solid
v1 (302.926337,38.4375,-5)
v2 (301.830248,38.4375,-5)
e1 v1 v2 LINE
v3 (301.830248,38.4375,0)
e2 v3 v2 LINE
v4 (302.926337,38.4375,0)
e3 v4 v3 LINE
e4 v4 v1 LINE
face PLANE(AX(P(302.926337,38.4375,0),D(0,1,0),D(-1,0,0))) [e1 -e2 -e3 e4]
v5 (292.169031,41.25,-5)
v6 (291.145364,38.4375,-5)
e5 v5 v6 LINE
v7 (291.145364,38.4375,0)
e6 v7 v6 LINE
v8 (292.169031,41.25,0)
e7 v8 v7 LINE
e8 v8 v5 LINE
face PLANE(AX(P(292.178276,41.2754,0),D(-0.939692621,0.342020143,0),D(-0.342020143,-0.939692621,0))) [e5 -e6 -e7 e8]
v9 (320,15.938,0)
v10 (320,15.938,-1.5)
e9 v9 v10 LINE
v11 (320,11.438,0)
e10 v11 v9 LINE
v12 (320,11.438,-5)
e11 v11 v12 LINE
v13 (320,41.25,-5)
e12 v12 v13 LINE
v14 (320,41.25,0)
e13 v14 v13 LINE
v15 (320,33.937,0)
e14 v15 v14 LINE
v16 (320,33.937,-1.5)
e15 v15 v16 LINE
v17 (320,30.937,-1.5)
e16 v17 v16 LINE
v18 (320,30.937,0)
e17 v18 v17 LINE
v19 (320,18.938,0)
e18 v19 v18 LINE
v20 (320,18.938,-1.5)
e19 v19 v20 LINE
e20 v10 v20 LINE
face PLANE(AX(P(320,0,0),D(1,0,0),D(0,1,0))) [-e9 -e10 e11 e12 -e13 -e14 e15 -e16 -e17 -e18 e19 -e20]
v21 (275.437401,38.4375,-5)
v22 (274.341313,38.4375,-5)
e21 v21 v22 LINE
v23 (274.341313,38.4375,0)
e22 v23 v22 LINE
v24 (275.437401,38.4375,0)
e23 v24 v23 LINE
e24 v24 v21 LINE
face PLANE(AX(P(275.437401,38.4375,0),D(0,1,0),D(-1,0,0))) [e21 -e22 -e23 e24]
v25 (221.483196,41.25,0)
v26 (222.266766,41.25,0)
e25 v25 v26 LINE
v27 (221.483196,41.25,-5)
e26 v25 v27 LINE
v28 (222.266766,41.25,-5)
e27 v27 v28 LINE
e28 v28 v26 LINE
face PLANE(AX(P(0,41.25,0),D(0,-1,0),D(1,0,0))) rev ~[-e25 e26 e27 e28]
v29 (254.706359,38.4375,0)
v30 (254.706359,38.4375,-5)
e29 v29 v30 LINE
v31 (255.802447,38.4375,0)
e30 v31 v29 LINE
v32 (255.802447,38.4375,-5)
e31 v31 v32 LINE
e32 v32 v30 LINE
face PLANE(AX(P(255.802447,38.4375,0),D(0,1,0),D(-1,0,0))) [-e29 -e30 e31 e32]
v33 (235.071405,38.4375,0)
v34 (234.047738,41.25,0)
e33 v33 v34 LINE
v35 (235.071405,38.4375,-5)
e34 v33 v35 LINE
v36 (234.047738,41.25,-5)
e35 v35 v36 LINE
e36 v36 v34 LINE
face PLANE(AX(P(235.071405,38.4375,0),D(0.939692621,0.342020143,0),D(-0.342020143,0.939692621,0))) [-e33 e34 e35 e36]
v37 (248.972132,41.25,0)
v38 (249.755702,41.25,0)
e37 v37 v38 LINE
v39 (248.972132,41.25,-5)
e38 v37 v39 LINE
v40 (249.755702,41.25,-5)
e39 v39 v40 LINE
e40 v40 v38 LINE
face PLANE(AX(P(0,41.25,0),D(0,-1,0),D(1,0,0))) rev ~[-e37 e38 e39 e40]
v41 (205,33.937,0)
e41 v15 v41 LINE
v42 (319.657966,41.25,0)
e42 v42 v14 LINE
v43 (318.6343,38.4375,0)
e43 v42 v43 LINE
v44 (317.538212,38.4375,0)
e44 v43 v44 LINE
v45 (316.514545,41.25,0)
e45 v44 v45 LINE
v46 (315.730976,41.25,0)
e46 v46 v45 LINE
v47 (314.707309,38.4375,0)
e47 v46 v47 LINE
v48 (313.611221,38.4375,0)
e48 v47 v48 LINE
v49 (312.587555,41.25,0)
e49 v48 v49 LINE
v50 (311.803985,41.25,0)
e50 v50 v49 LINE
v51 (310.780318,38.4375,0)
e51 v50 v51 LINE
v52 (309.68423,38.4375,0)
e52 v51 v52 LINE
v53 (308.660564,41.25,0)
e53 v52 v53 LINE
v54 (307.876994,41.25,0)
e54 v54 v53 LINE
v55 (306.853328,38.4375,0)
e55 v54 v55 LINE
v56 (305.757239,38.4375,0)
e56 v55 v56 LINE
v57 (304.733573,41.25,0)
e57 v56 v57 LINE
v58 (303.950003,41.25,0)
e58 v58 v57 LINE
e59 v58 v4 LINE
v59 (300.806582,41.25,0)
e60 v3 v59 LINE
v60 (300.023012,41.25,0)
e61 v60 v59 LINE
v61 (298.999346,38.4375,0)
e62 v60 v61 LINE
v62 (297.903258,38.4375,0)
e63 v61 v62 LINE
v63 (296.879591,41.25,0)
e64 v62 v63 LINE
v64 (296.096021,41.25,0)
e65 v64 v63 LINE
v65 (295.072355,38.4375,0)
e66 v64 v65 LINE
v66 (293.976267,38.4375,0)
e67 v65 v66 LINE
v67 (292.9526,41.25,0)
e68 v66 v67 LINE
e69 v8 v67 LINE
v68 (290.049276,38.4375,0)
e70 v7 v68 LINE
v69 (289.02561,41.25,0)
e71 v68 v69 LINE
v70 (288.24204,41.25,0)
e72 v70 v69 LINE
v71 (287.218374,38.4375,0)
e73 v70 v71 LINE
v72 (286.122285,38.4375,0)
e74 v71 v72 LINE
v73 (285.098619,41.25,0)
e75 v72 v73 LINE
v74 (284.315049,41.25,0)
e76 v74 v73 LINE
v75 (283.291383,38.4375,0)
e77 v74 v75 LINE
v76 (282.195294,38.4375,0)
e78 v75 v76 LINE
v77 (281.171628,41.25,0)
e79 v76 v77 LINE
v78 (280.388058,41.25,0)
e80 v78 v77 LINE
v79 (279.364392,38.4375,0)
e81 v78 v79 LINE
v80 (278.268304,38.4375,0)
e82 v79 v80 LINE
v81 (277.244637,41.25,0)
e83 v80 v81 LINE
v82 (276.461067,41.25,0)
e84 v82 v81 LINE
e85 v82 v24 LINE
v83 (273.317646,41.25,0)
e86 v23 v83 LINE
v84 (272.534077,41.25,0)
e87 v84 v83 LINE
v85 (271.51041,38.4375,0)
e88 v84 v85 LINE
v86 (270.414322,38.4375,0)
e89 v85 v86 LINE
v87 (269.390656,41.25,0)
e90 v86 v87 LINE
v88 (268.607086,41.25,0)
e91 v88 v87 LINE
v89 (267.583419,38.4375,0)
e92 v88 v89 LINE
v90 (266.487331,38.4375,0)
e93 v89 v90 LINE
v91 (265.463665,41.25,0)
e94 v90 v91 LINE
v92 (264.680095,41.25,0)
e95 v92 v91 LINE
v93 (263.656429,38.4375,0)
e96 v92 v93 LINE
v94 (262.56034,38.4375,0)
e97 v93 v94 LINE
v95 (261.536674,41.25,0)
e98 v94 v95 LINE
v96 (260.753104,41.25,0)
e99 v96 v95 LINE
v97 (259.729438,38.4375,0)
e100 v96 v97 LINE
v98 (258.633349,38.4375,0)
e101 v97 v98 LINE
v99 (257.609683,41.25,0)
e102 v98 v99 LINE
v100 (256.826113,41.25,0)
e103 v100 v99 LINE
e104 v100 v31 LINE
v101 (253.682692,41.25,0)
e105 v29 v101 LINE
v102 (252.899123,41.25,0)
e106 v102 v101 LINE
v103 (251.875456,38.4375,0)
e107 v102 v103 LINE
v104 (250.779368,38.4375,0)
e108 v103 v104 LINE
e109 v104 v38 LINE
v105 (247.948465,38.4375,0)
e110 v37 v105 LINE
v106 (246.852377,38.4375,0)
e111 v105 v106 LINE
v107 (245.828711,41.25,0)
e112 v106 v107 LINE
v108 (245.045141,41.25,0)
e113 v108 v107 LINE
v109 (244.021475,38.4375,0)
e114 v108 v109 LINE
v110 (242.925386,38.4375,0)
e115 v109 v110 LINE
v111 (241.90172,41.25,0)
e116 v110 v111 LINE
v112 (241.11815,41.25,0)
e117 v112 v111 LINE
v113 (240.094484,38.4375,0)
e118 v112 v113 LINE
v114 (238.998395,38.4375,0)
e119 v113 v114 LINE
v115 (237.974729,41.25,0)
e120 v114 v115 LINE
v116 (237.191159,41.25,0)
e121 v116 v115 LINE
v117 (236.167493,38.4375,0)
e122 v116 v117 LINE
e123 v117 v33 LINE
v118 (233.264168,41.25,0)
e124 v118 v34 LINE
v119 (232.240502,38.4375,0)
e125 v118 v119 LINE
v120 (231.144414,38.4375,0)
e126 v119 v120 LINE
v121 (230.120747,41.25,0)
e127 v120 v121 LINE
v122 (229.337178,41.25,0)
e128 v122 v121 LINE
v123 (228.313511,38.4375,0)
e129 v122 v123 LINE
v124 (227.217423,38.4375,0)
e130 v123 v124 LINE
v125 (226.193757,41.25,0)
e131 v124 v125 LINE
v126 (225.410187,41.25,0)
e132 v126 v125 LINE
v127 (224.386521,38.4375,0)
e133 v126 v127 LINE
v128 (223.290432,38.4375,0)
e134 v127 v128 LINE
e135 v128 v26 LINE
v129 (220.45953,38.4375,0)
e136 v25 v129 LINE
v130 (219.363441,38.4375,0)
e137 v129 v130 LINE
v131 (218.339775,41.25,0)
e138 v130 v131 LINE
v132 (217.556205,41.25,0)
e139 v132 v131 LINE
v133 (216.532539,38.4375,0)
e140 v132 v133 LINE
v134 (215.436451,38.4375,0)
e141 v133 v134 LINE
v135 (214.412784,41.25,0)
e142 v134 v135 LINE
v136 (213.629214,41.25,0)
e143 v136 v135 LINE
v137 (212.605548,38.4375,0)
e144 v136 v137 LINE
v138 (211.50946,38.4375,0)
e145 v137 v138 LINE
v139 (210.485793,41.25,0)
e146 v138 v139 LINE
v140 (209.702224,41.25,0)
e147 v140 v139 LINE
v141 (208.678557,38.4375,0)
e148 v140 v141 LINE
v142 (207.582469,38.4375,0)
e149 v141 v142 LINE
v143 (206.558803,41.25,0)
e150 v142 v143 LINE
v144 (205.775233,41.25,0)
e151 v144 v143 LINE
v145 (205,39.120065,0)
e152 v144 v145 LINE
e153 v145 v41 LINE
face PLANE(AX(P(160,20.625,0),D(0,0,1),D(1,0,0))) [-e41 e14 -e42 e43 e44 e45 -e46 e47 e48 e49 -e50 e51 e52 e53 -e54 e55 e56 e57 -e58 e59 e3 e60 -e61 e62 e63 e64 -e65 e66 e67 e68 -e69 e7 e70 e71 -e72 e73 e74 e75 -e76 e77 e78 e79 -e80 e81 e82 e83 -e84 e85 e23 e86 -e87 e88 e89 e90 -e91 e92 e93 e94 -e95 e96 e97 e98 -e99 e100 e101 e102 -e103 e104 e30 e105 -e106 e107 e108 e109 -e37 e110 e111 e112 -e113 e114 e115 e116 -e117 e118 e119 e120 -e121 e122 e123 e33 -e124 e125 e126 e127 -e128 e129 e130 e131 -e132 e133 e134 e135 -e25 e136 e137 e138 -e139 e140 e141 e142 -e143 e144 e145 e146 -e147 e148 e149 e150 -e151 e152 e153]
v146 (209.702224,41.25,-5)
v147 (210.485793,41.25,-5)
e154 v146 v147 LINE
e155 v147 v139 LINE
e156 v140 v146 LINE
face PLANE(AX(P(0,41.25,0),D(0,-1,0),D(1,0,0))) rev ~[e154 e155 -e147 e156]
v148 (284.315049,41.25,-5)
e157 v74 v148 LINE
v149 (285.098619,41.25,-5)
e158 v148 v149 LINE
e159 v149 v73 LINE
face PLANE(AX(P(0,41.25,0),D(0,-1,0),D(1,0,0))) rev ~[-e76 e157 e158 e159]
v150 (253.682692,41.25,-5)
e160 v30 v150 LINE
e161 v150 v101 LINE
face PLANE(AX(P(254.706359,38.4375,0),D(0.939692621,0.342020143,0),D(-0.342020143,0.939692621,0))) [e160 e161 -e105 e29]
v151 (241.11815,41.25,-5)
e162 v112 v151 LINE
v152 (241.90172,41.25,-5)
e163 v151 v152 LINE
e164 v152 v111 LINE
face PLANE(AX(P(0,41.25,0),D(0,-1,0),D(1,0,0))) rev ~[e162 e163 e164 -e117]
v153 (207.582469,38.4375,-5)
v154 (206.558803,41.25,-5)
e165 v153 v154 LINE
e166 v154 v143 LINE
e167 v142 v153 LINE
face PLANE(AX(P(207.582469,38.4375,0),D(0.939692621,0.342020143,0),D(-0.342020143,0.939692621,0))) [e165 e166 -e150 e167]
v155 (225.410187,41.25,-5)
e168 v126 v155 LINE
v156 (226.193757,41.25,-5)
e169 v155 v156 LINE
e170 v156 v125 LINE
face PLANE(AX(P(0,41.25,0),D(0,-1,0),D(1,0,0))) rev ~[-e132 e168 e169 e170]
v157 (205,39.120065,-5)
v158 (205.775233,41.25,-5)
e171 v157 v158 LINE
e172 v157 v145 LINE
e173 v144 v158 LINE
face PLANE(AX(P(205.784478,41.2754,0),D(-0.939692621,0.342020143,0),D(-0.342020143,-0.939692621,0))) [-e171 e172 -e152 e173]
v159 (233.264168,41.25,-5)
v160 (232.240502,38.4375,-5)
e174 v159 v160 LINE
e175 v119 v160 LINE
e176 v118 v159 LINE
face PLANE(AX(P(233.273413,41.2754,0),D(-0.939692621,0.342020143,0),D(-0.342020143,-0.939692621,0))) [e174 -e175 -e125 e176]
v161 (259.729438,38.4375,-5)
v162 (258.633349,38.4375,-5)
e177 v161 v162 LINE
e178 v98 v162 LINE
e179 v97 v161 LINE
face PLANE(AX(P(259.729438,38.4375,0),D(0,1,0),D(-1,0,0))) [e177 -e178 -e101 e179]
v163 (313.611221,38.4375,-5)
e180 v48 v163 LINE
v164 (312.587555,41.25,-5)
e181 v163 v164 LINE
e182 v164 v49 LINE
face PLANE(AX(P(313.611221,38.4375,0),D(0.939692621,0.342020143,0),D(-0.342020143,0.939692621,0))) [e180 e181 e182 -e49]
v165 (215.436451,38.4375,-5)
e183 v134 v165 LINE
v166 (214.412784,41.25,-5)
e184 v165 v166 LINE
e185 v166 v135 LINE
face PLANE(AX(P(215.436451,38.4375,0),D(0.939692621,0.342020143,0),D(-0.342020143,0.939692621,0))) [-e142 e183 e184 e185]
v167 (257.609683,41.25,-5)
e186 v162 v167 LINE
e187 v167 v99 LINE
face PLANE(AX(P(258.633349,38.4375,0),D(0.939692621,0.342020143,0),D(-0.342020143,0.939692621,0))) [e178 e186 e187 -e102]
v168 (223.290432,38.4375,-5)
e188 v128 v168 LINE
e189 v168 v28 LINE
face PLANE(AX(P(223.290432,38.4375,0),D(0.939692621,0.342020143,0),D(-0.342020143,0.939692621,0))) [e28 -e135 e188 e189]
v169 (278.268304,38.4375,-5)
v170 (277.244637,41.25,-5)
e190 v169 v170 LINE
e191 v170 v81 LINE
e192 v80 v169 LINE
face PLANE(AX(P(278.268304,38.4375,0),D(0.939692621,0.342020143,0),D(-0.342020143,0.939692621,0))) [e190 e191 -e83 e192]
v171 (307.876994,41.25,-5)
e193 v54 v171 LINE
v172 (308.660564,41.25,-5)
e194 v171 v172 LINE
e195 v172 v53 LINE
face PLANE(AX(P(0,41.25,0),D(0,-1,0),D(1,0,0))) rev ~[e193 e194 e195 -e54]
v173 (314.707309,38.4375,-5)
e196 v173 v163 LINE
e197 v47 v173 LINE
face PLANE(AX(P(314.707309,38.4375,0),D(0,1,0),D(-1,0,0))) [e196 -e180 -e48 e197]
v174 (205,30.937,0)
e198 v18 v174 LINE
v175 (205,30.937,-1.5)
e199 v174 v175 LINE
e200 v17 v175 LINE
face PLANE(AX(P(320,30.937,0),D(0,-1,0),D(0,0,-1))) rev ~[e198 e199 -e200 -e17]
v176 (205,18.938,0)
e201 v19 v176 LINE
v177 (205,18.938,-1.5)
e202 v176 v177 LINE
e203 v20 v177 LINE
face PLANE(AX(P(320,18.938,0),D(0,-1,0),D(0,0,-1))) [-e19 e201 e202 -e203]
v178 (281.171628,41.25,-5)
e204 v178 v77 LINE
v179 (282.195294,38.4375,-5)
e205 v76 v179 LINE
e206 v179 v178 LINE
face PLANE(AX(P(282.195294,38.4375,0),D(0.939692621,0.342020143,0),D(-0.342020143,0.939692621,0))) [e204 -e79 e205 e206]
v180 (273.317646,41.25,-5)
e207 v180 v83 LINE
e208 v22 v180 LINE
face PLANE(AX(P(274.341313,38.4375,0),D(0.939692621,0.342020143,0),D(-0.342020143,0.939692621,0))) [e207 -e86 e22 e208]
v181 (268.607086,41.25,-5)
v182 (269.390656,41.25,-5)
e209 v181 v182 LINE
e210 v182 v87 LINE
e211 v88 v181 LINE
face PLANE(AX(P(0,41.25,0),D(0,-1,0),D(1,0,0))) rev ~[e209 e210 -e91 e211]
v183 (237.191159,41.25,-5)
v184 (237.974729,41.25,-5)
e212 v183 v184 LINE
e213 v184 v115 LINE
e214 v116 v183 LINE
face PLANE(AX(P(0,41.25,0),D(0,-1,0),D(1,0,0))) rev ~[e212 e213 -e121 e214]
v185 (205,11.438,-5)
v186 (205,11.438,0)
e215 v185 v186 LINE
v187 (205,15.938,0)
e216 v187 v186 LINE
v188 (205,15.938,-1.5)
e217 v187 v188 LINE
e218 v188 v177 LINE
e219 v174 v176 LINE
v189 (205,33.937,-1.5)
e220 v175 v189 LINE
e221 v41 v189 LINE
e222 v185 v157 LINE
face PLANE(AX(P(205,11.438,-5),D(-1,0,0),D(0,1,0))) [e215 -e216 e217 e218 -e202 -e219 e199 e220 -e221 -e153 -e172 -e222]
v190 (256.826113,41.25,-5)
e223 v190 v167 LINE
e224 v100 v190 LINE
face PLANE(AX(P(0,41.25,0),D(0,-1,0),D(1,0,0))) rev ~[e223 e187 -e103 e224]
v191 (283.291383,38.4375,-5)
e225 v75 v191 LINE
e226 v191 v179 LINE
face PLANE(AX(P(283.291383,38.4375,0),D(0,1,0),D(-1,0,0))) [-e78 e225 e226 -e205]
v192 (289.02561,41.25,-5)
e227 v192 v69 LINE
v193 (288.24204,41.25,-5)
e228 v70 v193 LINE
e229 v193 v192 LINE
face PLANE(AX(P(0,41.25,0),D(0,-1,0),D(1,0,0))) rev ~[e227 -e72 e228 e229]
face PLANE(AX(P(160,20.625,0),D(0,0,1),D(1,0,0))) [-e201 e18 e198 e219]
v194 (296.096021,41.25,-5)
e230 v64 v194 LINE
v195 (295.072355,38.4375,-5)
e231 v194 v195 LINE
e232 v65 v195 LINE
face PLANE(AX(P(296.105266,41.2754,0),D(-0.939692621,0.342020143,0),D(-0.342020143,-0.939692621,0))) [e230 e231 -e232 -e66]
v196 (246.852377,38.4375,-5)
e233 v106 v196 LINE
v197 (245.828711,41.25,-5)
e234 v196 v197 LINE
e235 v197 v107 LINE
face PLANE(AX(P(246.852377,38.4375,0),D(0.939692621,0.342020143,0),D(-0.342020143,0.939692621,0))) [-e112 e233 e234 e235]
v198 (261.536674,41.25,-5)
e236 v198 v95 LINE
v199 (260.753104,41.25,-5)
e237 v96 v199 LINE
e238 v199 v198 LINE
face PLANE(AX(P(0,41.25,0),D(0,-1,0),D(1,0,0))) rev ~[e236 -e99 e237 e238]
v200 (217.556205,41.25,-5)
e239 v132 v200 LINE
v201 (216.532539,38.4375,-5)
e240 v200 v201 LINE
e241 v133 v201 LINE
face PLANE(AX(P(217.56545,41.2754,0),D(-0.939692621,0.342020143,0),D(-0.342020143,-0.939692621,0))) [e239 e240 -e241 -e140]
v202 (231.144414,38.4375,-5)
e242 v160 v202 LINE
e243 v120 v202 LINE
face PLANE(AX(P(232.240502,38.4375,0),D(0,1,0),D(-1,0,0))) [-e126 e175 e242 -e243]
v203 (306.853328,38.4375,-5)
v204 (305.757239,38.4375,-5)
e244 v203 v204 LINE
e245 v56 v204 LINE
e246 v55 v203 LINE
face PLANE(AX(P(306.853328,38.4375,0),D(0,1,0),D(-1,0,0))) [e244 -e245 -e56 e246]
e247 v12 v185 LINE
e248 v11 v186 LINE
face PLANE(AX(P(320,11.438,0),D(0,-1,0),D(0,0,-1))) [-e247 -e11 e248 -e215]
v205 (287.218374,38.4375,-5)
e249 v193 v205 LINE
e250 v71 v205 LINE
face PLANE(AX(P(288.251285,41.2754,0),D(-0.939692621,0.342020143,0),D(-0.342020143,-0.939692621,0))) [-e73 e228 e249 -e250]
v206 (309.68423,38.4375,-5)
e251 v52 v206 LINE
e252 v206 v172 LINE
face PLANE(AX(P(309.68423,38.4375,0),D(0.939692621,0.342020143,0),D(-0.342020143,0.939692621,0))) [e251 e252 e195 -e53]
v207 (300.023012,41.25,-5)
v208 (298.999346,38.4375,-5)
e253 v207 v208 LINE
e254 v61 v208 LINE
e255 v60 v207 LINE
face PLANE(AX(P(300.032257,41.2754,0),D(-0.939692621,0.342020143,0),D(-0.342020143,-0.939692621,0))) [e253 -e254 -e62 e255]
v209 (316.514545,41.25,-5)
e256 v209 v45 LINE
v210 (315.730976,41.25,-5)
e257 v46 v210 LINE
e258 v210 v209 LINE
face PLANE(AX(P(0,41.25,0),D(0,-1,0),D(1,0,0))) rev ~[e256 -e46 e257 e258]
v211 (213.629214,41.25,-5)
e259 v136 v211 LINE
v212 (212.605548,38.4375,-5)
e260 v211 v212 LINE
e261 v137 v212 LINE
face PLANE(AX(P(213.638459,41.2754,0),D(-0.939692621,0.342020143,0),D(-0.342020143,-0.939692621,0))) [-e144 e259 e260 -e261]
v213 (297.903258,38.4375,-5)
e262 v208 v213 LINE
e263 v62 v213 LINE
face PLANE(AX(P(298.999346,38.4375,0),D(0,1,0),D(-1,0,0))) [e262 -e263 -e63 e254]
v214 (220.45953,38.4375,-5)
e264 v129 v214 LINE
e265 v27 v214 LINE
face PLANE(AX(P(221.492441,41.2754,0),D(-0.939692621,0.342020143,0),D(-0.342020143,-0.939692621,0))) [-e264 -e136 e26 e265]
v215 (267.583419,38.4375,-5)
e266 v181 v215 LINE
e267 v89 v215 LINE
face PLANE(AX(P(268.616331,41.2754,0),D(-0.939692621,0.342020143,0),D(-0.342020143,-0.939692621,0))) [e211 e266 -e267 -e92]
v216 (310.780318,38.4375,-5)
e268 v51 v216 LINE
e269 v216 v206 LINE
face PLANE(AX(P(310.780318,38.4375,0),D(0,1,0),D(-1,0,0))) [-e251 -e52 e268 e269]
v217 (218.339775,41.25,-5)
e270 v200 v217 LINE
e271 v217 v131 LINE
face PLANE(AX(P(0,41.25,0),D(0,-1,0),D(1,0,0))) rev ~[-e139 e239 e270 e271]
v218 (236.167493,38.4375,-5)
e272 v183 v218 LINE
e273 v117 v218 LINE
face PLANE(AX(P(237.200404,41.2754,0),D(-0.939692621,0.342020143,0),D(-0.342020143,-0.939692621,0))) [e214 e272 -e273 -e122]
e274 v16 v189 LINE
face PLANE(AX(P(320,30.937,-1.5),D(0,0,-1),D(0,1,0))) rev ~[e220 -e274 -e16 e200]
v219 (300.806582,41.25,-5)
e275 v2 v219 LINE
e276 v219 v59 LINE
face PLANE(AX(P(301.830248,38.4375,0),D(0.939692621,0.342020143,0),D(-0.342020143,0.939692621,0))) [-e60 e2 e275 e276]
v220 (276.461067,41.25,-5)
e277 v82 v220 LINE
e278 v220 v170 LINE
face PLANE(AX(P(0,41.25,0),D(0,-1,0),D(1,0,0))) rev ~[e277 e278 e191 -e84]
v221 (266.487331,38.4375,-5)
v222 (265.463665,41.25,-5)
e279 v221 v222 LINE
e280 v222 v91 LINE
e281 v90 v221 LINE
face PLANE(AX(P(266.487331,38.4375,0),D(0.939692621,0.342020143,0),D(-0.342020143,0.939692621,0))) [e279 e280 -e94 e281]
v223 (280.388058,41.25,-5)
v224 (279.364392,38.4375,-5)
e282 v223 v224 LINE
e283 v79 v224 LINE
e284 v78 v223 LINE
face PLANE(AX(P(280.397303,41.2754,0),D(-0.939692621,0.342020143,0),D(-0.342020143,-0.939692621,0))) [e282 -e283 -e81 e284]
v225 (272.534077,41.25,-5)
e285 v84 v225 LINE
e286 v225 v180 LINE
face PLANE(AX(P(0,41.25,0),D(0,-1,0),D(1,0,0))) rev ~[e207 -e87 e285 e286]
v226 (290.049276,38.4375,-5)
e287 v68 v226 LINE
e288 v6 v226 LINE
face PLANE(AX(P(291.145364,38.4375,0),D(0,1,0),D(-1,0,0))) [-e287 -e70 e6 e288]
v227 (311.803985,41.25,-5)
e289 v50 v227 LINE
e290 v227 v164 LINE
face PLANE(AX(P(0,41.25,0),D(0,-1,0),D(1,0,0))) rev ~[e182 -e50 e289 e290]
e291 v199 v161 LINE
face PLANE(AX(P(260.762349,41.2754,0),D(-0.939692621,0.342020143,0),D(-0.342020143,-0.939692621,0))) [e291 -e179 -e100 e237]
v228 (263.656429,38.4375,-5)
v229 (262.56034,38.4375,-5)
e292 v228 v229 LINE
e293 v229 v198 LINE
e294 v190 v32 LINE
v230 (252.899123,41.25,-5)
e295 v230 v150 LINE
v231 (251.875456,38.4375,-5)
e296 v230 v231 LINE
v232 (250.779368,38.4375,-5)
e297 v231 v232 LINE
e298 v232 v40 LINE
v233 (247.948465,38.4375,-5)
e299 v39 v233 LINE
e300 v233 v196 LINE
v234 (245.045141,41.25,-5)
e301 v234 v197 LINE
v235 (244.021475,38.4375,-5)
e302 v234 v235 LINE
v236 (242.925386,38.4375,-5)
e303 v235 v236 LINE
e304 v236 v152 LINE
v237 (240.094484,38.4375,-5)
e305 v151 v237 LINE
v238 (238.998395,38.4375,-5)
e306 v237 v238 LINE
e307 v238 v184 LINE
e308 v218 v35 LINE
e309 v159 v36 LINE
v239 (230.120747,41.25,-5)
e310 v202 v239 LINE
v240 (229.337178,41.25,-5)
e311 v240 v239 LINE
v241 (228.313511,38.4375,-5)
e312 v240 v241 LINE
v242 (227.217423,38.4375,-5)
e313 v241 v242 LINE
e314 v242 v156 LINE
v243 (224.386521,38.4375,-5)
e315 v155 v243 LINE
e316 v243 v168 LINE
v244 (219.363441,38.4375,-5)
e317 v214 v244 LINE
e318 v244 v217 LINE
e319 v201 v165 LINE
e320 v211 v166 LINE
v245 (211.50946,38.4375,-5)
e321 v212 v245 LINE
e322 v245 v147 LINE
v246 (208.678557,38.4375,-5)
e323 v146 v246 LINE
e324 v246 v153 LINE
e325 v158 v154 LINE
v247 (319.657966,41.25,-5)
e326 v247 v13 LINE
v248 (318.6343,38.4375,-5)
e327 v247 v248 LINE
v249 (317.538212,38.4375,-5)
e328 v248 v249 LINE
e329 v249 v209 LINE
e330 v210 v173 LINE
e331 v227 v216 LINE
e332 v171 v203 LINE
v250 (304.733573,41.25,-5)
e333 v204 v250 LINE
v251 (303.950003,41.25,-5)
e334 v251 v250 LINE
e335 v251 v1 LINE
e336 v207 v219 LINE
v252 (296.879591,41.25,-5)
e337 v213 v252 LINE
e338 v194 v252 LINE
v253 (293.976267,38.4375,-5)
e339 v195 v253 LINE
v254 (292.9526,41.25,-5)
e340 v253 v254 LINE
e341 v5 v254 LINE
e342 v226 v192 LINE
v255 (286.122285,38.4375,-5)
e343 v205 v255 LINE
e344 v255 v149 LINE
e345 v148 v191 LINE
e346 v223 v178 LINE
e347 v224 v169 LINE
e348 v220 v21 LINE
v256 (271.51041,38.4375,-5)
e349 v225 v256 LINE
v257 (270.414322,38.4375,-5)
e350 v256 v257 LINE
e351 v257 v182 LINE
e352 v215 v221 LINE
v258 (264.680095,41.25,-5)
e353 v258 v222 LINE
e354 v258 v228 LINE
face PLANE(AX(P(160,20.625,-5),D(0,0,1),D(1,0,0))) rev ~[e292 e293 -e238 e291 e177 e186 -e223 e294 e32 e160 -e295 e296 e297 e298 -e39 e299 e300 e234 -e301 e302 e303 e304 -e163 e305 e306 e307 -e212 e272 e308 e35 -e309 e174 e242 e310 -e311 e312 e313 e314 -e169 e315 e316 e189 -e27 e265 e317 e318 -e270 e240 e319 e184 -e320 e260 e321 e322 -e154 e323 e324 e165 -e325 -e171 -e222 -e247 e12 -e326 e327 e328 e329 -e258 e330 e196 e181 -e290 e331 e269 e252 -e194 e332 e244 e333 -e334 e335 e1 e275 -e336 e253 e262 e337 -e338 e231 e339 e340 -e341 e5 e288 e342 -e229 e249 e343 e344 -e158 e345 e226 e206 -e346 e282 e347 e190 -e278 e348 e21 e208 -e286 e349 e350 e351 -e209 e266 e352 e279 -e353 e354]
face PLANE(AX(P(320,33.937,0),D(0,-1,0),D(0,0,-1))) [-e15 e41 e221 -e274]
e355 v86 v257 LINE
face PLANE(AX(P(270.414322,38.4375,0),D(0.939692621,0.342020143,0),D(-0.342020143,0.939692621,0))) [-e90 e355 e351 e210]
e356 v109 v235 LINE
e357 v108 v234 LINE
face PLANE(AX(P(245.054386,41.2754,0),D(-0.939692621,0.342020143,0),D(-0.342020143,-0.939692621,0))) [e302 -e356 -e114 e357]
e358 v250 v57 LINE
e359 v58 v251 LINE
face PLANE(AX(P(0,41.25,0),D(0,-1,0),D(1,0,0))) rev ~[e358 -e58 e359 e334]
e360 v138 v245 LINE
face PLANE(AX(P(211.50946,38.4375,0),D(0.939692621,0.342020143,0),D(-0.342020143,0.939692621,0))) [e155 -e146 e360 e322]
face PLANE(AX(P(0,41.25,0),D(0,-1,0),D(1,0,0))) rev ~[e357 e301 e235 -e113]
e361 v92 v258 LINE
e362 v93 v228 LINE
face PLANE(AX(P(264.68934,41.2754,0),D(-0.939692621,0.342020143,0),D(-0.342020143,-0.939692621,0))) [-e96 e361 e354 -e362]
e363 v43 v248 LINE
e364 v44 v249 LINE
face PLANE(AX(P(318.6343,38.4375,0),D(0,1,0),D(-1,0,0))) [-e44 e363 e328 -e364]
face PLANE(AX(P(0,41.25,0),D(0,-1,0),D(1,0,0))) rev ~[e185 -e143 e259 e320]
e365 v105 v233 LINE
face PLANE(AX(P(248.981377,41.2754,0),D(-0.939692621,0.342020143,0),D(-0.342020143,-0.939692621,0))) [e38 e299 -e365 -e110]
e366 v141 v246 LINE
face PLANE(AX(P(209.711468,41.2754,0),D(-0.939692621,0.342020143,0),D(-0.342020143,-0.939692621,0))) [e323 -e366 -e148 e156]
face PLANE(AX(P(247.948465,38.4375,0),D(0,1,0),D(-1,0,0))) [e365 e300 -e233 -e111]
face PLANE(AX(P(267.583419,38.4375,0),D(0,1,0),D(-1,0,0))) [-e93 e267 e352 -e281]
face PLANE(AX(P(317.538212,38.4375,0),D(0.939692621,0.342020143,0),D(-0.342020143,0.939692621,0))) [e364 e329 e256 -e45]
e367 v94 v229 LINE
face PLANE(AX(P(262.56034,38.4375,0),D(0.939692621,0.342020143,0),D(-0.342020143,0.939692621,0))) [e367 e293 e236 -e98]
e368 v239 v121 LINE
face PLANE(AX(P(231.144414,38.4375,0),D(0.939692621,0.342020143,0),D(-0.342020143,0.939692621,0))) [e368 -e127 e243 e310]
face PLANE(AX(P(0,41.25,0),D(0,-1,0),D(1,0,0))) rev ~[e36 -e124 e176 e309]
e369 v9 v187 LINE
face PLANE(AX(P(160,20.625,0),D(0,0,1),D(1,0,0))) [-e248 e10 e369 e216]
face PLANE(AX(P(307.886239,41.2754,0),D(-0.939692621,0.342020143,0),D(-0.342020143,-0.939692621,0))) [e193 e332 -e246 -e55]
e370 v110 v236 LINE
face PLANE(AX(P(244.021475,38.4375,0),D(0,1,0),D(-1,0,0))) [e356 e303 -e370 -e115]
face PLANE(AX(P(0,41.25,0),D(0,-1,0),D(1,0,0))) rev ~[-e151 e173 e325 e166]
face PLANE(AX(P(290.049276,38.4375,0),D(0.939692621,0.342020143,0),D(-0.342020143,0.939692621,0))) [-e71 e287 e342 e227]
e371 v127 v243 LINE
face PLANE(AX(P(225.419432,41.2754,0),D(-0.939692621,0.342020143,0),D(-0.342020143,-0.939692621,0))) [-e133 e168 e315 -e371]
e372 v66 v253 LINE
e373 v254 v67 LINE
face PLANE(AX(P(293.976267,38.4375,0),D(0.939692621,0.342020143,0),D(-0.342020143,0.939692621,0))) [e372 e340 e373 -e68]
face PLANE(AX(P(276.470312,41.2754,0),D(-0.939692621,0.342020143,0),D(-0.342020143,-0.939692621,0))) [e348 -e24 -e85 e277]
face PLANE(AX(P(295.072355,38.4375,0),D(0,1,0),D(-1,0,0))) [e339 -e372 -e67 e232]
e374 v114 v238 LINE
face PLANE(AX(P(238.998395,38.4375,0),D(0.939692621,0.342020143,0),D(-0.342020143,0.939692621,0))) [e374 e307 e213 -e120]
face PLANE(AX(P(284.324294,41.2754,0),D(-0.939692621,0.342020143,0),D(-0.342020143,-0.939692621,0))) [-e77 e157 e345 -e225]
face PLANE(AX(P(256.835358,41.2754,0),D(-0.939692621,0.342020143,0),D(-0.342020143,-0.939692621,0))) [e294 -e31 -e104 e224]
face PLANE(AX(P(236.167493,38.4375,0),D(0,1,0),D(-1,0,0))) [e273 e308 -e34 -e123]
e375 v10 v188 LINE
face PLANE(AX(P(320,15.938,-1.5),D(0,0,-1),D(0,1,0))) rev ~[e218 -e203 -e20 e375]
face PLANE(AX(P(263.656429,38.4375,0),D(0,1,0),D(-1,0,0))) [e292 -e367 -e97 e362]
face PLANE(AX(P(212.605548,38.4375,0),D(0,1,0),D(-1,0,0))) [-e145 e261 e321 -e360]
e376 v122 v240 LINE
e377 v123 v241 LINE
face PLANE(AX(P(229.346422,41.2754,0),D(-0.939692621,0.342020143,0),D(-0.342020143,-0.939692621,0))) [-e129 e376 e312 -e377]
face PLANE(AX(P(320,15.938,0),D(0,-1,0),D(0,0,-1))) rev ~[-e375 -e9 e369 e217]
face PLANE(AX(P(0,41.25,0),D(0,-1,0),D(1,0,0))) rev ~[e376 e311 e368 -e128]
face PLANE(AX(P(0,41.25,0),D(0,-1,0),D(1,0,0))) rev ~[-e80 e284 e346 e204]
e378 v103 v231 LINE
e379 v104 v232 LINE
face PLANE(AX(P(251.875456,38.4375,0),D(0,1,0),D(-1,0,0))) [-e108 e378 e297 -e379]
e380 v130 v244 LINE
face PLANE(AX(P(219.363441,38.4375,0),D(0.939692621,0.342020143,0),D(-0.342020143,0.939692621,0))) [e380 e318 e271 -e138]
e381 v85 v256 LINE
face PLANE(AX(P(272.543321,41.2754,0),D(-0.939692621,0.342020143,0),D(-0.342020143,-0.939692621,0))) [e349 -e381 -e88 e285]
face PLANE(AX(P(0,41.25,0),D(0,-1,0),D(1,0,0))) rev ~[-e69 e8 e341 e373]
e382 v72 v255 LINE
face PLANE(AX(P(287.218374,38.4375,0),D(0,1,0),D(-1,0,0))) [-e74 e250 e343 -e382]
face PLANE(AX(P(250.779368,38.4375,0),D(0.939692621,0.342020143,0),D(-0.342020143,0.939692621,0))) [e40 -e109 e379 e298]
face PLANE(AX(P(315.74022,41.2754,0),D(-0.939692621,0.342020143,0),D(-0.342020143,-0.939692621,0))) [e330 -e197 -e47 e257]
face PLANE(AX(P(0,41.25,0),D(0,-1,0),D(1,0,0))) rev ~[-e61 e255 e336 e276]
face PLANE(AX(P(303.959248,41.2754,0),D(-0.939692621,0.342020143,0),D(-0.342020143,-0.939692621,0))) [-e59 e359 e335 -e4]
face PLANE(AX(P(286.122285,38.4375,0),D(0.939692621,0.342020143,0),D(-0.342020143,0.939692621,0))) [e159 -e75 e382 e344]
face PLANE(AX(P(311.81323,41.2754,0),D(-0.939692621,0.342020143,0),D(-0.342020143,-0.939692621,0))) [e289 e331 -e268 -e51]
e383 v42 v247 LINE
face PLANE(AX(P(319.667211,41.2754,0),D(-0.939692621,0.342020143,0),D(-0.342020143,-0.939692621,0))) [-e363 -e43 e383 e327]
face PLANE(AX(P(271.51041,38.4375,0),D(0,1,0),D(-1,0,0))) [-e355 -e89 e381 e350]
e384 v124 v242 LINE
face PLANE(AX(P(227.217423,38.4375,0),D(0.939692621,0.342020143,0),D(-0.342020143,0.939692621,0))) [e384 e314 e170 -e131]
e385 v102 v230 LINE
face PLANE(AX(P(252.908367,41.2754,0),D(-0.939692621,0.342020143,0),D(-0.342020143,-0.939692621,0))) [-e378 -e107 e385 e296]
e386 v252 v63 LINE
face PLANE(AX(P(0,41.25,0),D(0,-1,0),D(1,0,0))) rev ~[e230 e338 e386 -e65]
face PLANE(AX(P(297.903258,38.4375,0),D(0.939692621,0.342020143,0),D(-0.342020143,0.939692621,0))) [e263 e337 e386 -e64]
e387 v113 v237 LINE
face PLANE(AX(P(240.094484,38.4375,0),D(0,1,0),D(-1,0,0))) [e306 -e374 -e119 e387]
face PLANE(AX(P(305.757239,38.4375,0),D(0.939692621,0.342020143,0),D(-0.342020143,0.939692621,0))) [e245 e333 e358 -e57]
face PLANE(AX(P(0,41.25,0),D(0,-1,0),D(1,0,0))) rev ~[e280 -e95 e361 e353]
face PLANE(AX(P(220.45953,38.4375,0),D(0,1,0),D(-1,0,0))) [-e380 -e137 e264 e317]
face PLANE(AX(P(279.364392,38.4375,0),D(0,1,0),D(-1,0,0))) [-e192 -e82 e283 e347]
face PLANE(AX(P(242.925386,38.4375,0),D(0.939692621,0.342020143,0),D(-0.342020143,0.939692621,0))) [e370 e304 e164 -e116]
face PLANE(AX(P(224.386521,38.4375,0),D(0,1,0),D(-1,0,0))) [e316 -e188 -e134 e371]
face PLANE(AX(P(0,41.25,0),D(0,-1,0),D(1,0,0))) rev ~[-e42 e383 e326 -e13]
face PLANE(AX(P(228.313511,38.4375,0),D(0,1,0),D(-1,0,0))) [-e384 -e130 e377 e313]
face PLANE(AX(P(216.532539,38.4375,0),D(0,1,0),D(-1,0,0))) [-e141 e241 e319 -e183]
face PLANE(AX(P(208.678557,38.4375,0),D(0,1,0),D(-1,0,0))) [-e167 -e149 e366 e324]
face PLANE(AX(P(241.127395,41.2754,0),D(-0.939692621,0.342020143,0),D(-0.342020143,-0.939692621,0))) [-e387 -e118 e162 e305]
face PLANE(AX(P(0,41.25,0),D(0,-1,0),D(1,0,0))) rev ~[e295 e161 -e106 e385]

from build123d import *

# Parameters (mm, degrees)
BLANKSKE_W                    = 320
BLANKSKE_H                    = 41.25
BLANK_DEPTH                   = 5
TOOTHCUTSIM_DEPTH             = 323.686477095
TEETHCUTS_COUNT               = 83
TEETHCUTS_PITCH               = 3.926990813
SCHIZZO4_W                    = 5
SCHIZZO4_H                    = 11.438
TAGLIO_ESTRUSIONE1_DEPTH      = 359
SCHIZZO5_W                    = 1.5
SCHIZZO5_H                    = 3
TAGLIO_ESTRUSIONE2_DEPTH      = 323.686477095
TAGLIO_ESTRUSIONE3_DEPTH      = 10
TAGLIO_ESTRUSIONE3_DEPTH_BACK = 10
SCHIZZO6_OUTSIDE_W            = 386.284
SCHIZZO6_OUTSIDE_H            = 96.096
SCHIZZO6_OUTSIDE_W_2          = 115
SCHIZZO6_OUTSIDE_H_2          = 29.812


with BuildPart() as part:
    # BlankSke → Blank (new body)
    with BuildSketch(Plane.XY):
        with Locations((160, 20.625)):
            Rectangle(BLANKSKE_W, BLANKSKE_H)
    extrude(amount=-BLANK_DEPTH)

    # TooCutSkeSim → ToothCutSim (cut, through all)
    with BuildSketch(Plane.XY):
        Polygon((0.548044212, 38.4375), (-0.548044212, 38.4375), (-1.58095534, 41.2754), (1.58095534, 41.2754), align=None)
    toothcutsim = extrude(amount=-TOOTHCUTSIM_DEPTH, mode=Mode.SUBTRACT)

    # TeethCuts: ToothCutSim ×83
    with Locations(*[(i * TEETHCUTS_PITCH, 0, 0) for i in range(1, TEETHCUTS_COUNT)]):
        add(toothcutsim, mode=Mode.SUBTRACT)

    # Schizzo4 → Taglio-Estrusione1 (cut)
    with BuildSketch(Plane(origin=(320, 0, 0), x_dir=(0, 0, -1), z_dir=(1, 0, 0))):
        with Locations((2.5, 5.719)):
            Rectangle(SCHIZZO4_W, SCHIZZO4_H)
    extrude(amount=-TAGLIO_ESTRUSIONE1_DEPTH, mode=Mode.SUBTRACT)

    # Schizzo5 → Taglio-Estrusione2 (cut, through all)
    with BuildSketch(Plane(origin=(320, 0, 0), x_dir=(0, 0, -1), z_dir=(1, 0, 0))):
        with Locations((0.75, 32.437)):
            Rectangle(SCHIZZO5_W, SCHIZZO5_H)
        with Locations((0.75, 17.438)):
            Rectangle(SCHIZZO5_W, SCHIZZO5_H)
    extrude(amount=-TAGLIO_ESTRUSIONE2_DEPTH, mode=Mode.SUBTRACT)

    # Schizzo6 outside → Taglio-Estrusione3 (cut, two sides: drawn at the far end of the back side and taken through both)
    with BuildSketch(Plane(origin=(0, 0, -5), x_dir=(-1, 0, 0), z_dir=(0, 0, -1)).offset(-TAGLIO_ESTRUSIONE3_DEPTH_BACK)):
        with Locations((-160, 26.344)):
            Rectangle(SCHIZZO6_OUTSIDE_W, SCHIZZO6_OUTSIDE_H)
        with Locations((-262.5, 26.344)):
            Rectangle(SCHIZZO6_OUTSIDE_W_2, SCHIZZO6_OUTSIDE_H_2, mode=Mode.SUBTRACT)
    extrude(amount=TAGLIO_ESTRUSIONE3_DEPTH + TAGLIO_ESTRUSIONE3_DEPTH_BACK, mode=Mode.SUBTRACT)


solid = part.part
